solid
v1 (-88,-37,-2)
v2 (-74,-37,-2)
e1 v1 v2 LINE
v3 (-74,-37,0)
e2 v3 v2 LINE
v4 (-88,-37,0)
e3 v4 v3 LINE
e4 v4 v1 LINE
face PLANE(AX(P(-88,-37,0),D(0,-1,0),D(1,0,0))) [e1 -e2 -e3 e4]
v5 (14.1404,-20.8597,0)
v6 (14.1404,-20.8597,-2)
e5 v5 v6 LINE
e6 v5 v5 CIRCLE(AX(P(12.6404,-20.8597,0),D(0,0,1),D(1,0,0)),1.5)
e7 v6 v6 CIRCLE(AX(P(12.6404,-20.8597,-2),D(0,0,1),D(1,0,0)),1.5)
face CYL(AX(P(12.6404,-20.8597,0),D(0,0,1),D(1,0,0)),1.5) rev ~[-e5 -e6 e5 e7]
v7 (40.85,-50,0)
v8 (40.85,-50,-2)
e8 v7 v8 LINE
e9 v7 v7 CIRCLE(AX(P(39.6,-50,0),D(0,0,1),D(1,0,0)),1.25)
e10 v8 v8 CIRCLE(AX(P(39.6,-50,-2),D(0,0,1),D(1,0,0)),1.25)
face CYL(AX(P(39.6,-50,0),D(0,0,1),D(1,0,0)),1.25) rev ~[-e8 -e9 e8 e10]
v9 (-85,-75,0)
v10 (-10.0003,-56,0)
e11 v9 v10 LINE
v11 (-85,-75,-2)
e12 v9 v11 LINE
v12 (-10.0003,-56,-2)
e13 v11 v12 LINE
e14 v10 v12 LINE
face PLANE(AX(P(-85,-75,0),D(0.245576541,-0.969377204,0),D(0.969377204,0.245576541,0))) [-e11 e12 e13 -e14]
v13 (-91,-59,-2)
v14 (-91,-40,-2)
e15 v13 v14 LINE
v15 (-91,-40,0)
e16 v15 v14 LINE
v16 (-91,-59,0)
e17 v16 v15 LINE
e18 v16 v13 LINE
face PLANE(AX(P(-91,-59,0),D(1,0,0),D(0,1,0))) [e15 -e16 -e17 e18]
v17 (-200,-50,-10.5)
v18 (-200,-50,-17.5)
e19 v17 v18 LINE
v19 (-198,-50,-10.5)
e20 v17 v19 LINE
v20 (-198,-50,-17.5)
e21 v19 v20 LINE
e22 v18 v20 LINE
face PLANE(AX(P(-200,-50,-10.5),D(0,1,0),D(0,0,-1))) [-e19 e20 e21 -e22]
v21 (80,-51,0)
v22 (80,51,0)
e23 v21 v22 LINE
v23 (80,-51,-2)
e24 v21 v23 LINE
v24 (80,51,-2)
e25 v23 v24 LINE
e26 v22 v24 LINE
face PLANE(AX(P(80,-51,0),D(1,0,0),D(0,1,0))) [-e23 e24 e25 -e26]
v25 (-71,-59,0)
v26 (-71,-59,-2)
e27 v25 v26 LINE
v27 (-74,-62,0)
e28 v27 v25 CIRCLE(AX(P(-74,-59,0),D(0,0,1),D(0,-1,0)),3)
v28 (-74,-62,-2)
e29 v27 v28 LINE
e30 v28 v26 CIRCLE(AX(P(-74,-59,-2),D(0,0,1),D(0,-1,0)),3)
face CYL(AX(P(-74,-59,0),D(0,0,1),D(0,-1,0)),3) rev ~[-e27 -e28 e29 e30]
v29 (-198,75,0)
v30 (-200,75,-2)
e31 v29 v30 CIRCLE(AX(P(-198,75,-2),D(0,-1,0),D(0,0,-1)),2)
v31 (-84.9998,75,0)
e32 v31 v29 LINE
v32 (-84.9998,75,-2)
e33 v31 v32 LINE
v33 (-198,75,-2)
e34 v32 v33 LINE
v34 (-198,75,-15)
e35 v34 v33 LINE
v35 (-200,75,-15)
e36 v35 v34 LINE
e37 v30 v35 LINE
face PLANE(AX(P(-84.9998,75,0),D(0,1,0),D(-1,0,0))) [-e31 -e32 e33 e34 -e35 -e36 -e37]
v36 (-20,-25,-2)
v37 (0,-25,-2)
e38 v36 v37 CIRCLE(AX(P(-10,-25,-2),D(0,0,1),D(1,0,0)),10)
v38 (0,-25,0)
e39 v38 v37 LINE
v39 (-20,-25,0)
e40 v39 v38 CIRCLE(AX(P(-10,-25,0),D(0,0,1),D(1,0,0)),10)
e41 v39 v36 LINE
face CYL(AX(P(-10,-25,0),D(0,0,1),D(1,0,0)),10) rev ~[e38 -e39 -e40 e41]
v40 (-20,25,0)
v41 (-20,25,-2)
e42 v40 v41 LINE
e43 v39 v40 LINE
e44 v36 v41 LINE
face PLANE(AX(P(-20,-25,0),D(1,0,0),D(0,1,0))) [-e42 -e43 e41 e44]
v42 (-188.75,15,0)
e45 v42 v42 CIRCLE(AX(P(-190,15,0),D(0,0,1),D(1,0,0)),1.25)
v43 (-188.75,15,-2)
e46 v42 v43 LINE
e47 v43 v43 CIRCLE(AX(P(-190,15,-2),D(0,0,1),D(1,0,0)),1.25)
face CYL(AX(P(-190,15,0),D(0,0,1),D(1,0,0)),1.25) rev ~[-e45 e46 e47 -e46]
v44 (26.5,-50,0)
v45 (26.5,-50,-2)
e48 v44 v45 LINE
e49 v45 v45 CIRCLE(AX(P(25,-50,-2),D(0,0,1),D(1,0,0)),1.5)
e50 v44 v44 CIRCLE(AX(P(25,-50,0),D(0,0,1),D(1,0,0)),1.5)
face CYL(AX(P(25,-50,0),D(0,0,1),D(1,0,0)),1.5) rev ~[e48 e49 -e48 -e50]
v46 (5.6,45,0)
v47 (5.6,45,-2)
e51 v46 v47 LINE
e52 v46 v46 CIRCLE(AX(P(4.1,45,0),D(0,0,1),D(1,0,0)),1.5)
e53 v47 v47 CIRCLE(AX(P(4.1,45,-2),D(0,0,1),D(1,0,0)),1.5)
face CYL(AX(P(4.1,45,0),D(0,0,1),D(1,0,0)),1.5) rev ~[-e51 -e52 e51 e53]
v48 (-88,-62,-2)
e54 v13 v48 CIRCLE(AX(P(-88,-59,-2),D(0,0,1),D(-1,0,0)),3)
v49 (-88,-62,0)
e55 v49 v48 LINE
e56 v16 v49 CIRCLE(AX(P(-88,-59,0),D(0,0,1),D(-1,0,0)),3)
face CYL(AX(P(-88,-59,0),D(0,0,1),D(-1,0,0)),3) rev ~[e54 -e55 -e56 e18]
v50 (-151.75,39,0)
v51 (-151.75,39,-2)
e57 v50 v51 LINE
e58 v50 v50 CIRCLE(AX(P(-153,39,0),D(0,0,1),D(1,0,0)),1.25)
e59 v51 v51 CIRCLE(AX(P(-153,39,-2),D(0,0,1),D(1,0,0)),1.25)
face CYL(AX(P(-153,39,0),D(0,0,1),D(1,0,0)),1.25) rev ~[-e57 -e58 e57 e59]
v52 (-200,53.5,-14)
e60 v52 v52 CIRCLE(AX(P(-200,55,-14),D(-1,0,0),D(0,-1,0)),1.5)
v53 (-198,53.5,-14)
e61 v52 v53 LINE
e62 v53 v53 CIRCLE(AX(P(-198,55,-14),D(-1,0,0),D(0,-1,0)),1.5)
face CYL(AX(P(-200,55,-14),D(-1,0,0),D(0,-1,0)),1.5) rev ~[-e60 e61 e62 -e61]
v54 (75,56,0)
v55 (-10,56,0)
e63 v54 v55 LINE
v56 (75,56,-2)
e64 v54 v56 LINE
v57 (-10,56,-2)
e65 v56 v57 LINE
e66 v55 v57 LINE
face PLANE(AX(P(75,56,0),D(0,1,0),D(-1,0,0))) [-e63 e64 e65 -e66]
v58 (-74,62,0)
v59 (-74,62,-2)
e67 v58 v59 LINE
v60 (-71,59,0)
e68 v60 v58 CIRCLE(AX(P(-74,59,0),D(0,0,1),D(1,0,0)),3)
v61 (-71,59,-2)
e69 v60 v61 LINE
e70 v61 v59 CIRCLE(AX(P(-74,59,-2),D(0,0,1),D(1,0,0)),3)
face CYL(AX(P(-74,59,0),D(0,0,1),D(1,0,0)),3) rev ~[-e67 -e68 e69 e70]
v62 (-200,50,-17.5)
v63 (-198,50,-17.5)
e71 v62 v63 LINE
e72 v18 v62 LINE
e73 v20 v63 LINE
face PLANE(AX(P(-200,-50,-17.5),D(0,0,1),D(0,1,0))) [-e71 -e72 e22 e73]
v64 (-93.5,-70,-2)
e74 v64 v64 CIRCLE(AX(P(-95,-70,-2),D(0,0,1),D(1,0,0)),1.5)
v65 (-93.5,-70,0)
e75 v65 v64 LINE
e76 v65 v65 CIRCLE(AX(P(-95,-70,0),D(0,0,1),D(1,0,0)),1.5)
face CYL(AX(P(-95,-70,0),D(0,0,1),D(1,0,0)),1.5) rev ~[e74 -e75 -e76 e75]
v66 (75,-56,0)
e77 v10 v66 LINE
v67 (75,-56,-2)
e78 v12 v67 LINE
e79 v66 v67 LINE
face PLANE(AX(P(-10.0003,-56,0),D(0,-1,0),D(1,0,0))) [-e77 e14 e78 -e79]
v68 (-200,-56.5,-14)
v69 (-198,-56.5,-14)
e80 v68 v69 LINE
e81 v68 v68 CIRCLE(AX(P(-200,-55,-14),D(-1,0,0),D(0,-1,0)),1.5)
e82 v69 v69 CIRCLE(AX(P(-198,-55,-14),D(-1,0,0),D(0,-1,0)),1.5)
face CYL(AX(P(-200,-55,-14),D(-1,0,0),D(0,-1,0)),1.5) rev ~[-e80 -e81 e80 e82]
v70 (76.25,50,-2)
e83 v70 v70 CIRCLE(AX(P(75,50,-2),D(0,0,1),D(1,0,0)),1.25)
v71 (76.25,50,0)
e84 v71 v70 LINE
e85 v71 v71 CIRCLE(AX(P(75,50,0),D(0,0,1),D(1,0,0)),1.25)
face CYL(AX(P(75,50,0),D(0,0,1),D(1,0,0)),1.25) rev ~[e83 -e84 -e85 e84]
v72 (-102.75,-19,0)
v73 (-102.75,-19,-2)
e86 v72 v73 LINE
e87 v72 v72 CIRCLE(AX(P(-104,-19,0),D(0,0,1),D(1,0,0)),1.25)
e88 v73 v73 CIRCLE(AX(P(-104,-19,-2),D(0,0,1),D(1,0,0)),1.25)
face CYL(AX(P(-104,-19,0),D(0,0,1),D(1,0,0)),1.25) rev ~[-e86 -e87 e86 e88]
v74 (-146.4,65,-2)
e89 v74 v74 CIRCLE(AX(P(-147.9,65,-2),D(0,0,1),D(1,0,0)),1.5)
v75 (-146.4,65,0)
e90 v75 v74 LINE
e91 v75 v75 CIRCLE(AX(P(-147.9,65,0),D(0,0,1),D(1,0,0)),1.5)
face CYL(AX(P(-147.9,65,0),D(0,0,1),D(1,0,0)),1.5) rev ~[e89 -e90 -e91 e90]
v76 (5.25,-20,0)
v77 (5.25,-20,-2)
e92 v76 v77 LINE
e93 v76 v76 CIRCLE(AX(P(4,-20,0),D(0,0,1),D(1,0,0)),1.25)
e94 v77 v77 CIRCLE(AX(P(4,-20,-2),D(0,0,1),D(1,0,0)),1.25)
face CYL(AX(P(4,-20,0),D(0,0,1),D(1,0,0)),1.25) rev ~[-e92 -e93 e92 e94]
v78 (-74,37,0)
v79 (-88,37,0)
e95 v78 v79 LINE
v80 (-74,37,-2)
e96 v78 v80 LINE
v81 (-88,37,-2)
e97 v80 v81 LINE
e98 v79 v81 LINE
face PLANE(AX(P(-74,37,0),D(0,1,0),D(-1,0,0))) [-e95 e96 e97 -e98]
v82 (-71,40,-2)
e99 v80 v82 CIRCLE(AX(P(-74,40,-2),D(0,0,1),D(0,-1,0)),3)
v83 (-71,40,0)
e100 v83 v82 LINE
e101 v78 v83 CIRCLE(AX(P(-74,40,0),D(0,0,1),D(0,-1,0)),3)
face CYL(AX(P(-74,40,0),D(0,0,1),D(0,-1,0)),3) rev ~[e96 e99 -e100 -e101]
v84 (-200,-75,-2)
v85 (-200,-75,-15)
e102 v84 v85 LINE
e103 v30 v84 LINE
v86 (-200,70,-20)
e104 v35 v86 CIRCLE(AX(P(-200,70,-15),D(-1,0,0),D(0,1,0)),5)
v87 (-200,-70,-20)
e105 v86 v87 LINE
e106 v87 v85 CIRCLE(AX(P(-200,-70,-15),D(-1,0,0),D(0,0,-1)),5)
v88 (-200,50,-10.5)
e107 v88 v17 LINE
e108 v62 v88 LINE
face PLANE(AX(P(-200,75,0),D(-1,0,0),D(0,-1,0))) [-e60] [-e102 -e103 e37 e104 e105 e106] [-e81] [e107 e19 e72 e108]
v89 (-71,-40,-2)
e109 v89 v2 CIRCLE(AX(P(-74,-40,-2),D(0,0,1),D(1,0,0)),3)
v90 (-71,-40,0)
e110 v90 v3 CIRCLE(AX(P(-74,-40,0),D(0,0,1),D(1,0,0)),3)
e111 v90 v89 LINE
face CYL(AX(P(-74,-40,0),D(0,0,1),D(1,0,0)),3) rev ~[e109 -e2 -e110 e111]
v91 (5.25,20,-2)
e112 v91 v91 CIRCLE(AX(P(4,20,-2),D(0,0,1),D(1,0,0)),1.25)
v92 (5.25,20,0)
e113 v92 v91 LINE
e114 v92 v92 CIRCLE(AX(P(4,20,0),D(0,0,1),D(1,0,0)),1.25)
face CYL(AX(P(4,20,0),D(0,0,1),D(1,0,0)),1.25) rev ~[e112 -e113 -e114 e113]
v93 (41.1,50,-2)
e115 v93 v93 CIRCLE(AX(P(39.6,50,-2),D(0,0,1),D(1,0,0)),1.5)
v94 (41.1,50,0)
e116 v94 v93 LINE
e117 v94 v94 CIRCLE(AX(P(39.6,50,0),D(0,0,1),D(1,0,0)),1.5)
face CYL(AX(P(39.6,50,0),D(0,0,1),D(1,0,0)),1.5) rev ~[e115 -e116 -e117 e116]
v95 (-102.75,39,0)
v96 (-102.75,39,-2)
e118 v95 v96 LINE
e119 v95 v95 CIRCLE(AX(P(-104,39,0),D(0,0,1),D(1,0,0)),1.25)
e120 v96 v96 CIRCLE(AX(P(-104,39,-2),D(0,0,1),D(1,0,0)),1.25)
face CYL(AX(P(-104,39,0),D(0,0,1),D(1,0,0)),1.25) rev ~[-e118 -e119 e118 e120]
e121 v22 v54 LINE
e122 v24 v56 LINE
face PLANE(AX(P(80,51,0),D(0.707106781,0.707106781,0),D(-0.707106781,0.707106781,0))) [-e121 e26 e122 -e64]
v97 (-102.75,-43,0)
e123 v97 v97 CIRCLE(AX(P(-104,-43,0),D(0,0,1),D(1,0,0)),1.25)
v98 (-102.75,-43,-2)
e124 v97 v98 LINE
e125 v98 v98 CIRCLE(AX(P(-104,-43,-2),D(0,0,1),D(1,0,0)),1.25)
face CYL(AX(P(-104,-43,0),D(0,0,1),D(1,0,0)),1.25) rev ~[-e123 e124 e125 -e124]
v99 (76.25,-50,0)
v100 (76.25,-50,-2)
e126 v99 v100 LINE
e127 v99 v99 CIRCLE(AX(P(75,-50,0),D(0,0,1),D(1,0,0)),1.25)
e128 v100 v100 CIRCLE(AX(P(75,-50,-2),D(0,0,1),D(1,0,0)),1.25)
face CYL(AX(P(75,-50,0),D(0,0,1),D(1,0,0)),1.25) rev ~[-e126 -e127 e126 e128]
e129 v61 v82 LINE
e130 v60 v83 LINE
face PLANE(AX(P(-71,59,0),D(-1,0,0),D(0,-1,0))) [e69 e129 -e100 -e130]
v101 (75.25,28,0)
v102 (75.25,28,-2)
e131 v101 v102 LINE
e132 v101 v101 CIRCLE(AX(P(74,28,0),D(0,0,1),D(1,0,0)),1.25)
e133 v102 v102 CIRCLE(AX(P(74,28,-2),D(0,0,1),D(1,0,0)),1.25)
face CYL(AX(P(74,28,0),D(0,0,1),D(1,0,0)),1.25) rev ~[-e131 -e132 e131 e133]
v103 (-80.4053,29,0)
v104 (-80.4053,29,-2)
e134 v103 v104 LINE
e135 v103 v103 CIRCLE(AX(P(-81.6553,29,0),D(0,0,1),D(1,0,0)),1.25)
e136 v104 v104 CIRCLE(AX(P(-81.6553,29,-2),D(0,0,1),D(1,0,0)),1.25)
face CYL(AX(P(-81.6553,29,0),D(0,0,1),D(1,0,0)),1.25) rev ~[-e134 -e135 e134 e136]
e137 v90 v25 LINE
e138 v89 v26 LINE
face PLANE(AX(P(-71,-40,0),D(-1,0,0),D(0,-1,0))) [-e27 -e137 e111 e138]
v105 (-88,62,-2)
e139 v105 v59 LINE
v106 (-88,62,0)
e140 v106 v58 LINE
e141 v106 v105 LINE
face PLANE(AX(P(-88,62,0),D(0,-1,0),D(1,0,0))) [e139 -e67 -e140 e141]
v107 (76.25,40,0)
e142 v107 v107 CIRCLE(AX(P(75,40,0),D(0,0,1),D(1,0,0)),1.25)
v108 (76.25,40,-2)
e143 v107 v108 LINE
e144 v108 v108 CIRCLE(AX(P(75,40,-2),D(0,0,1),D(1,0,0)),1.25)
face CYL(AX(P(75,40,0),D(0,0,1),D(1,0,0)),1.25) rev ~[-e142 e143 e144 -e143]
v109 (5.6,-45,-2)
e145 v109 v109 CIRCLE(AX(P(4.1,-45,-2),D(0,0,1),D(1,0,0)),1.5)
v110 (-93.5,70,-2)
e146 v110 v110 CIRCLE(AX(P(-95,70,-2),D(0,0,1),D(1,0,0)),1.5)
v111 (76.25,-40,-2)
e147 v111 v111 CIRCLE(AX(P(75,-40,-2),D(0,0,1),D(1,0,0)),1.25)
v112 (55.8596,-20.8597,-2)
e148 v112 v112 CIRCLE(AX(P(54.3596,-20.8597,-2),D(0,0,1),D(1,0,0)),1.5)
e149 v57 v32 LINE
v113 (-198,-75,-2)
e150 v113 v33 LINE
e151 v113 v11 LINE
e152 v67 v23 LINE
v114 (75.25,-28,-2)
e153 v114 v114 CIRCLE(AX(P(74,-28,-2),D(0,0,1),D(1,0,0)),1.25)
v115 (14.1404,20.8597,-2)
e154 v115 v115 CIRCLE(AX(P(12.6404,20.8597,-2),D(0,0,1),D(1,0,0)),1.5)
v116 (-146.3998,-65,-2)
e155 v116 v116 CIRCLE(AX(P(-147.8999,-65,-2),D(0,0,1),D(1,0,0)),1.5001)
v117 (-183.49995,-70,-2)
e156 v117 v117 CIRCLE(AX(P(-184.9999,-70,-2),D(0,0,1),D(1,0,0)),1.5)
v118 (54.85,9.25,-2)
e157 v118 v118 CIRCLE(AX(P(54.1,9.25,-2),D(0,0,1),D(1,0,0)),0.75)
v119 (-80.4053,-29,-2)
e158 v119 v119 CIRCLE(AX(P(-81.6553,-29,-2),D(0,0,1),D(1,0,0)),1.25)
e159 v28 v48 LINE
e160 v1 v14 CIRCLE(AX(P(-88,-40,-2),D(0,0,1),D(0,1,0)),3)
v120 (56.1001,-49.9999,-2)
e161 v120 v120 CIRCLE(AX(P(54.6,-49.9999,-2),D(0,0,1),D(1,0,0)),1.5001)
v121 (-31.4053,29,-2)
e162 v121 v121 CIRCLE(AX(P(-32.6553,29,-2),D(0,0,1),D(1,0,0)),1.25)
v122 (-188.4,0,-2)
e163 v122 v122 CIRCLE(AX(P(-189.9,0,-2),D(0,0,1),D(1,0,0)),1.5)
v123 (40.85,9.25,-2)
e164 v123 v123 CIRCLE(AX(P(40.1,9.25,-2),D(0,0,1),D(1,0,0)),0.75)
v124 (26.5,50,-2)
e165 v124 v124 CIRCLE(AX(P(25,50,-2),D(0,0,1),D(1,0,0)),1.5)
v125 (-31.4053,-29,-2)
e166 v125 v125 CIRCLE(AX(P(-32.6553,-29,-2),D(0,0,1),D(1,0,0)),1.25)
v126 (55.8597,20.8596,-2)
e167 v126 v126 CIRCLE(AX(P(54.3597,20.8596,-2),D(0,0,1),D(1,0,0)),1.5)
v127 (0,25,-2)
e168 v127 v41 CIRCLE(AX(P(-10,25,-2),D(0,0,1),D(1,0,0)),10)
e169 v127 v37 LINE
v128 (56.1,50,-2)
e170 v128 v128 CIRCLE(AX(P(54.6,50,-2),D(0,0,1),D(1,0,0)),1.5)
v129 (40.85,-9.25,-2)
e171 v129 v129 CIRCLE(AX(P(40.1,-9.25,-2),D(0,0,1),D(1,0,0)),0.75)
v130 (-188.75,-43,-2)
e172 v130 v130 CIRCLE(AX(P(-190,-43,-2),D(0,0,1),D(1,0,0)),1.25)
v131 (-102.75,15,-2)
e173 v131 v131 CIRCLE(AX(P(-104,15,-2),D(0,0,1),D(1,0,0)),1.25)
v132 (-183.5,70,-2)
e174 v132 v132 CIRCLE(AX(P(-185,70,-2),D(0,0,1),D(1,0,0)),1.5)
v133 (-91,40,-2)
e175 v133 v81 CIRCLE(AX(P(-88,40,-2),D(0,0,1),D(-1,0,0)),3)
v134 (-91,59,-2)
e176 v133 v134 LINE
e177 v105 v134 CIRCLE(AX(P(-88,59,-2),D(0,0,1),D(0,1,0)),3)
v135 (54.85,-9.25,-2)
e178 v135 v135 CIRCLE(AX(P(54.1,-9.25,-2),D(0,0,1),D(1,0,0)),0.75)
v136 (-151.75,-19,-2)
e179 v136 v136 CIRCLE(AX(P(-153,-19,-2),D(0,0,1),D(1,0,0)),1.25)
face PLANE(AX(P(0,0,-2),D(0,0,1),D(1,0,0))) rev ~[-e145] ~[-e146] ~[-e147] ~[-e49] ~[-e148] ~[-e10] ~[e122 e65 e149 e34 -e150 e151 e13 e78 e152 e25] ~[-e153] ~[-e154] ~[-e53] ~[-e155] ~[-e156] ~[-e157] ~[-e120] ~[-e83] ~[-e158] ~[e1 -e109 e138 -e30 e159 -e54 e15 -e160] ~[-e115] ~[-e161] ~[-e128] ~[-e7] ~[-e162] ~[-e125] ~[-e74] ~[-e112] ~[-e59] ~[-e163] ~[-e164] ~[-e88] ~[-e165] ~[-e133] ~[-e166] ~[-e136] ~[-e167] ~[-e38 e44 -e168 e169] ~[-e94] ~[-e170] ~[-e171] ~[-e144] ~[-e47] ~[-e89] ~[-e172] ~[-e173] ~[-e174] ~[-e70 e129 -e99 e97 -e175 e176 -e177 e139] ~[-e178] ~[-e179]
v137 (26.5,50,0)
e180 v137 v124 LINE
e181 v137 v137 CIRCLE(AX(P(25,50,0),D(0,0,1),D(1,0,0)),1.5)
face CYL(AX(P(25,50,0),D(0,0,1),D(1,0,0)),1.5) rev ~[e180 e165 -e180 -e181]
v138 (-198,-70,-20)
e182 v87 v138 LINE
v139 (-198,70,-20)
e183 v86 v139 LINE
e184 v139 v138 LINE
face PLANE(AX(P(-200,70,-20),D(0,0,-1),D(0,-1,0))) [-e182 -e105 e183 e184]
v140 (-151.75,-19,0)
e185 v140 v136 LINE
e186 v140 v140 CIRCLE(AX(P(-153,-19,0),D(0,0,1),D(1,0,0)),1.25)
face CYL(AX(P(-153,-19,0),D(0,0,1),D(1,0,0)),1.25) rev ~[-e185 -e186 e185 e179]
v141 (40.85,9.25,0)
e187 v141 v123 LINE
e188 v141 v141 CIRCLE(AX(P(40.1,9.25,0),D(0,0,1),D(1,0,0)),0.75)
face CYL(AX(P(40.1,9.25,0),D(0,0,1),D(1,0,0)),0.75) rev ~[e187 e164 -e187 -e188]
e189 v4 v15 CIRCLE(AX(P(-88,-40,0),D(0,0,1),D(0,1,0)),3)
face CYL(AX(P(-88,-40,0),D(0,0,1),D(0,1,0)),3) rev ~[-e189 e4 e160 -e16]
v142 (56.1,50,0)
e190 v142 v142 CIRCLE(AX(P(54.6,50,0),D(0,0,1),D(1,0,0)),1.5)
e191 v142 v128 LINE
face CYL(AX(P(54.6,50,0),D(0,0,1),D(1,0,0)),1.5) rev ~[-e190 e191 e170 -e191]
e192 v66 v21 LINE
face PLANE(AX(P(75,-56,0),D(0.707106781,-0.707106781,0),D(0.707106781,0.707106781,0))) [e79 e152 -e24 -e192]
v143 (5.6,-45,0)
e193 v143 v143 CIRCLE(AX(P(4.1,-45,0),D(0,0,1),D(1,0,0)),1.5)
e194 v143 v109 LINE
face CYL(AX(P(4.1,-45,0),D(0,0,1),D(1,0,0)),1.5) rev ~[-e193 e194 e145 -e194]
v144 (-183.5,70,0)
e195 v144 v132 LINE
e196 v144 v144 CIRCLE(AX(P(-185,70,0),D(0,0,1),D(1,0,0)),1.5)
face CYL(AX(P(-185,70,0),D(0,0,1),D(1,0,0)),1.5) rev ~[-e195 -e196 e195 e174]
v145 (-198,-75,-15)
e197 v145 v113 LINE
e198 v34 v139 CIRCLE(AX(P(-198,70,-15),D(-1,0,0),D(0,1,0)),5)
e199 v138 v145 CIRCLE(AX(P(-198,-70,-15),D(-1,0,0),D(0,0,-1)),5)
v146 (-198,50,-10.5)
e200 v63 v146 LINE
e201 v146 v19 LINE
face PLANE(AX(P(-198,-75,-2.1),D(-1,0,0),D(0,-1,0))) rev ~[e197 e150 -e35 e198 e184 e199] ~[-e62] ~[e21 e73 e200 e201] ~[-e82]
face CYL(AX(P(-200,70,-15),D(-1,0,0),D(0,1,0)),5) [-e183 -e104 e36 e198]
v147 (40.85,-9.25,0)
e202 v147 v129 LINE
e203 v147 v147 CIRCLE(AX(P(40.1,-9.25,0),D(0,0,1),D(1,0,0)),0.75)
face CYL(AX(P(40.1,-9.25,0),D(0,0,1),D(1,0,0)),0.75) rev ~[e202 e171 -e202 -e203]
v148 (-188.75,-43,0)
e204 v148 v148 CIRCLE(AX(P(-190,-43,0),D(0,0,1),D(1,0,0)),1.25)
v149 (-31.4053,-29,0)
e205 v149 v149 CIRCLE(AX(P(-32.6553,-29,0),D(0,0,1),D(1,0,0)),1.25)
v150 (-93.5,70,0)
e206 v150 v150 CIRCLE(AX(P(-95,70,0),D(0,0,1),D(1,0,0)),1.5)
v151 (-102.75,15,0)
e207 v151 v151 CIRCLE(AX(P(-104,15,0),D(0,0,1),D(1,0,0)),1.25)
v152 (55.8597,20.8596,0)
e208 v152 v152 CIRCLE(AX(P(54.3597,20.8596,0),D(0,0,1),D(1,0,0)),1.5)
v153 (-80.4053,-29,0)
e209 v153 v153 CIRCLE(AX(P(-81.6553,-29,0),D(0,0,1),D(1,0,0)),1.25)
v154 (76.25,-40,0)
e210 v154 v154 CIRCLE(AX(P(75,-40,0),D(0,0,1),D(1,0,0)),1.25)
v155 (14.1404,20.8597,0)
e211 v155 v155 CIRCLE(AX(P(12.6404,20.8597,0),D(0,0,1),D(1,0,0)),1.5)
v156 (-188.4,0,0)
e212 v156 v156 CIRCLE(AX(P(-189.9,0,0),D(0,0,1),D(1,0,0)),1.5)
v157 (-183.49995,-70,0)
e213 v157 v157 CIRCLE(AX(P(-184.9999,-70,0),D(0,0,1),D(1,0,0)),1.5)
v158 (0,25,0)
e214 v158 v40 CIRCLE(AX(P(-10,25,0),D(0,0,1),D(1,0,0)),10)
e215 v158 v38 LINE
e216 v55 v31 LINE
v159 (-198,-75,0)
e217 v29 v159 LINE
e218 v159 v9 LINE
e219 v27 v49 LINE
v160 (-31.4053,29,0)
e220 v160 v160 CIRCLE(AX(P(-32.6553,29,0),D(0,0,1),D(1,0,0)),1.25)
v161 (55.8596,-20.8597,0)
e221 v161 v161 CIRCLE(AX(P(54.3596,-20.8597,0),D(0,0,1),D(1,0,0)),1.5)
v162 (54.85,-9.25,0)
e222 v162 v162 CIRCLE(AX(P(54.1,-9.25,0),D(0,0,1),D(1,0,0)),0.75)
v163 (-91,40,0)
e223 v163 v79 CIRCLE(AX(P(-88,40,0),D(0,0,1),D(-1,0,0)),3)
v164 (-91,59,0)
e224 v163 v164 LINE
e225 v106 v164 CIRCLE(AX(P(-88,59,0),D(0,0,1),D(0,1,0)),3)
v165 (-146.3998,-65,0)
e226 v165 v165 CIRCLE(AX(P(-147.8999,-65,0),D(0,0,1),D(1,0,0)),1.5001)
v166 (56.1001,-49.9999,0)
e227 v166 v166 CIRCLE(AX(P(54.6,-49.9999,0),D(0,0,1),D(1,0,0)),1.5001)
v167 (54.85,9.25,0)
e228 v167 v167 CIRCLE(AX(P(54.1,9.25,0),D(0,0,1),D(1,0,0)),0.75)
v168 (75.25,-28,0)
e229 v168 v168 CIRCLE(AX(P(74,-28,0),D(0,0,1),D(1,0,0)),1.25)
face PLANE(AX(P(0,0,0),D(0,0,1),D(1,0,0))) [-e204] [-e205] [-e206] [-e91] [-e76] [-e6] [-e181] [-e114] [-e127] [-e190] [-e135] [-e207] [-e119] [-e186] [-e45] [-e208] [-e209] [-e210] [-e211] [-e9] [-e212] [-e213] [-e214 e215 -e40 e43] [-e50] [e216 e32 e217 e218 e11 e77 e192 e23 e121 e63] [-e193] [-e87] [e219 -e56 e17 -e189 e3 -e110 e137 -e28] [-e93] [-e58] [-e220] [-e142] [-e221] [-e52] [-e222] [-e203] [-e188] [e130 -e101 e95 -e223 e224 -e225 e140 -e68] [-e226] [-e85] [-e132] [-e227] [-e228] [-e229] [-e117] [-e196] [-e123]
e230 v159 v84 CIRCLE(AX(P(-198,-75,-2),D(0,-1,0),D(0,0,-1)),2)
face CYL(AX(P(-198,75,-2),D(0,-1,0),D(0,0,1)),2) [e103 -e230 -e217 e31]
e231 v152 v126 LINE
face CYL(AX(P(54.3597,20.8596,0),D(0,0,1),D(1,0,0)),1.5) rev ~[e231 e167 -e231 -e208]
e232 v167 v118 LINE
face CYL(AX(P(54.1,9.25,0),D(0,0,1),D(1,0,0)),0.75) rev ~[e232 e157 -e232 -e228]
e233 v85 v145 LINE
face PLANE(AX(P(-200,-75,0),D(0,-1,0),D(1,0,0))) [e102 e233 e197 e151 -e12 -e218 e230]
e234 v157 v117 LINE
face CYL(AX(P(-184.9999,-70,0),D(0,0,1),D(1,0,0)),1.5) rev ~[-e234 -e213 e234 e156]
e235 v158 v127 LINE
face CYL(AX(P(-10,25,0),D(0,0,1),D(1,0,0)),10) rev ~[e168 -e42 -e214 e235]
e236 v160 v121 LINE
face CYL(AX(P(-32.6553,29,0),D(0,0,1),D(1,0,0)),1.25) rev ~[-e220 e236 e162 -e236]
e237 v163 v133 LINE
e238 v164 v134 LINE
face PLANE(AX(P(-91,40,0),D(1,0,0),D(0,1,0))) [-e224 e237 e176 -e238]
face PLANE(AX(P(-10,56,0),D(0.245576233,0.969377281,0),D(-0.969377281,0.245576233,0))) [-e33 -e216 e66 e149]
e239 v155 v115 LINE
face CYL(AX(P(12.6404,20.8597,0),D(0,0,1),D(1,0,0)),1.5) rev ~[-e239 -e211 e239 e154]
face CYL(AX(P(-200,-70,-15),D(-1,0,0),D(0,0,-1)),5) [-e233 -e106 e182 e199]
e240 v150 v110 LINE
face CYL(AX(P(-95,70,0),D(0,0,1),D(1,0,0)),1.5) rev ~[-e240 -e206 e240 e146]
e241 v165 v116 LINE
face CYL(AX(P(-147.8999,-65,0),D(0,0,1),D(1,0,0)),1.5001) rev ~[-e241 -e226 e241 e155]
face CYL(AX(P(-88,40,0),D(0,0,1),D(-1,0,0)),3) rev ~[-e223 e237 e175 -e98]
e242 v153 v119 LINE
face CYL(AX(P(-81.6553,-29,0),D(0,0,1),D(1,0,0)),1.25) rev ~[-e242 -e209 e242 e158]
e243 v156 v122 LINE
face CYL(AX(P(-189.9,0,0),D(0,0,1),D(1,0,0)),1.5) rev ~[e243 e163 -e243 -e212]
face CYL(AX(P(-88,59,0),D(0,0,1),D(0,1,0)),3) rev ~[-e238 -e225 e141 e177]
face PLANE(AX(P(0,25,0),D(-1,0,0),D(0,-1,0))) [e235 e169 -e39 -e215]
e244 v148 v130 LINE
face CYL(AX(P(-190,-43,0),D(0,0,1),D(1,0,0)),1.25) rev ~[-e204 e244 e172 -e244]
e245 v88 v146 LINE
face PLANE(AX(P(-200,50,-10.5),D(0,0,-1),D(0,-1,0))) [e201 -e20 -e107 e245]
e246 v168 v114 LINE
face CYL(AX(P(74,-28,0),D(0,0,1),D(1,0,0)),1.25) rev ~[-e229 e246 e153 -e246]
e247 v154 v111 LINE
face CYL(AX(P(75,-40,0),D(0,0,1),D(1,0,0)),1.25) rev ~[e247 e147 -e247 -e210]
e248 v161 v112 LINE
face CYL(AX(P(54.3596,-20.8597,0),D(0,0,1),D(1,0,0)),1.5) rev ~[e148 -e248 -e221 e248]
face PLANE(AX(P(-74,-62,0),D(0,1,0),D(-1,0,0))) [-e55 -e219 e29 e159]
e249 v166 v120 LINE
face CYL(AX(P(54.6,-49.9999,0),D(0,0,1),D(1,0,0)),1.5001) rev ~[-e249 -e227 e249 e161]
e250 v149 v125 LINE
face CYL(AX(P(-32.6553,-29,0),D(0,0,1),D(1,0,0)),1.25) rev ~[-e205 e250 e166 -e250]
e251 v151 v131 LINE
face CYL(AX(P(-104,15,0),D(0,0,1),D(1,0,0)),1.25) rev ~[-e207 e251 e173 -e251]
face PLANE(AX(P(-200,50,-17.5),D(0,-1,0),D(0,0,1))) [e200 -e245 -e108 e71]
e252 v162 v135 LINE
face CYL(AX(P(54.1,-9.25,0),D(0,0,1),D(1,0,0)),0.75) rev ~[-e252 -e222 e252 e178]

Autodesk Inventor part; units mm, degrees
ref_plane "YZ Plane" through (0, 0, 0) normal (1, 0, 0) x (0, 1, 0)
ref_plane "XZ Plane" through (0, 0, 0) normal (0, 1, 0) x (-1, 0, 0)
ref_plane "XY Plane" through (0, 0, 0) normal (0, 0, 1) x (1, 0, 0)
ref_plane "Plano de trabajo1" through (0, 0, 0) normal (0, 0, 1) x (1, 0, 0)
sketch "Boceto1" plane through (0, 0, 0) normal (0, 0, 1) x (1, 0, 0)
  line L0 (75, -56) -> (80, -51)
  line L1 (80, -51) -> (80, 51)
  line L2 (80, 51) -> (75, 56)
  line L3 (75, 56) -> (-10, 56)
  line L4 (-10, 56) -> (-84.9998, 75)
  line L5 (-84.9998, 75) -> (-200, 75)
  line L6 (-200, 75) -> (-200, -75)
  line L7 (-200, -75) -> (-85, -75)
  line L8 (-85, -75) -> (-10.0003, -56)
  line L9 (-10.0003, -56) -> (75, -56)
  circle A0 centre (-184.9999, -70) radius 1.5
  circle A1 centre (25, -50) radius 1.5
  circle A2 centre (25, 50) radius 1.5
  line L10 (-91, 40) -> (-91, 59)
  arc A3 (-88, 62) -> (-91, 59) centre (-88, 59) ccw
  line L11 (-88, 62) -> (-74, 62)
  arc A4 (-71, 59) -> (-74, 62) centre (-74, 59) ccw
  line L12 (-71, 59) -> (-71, 40)
  arc A5 (-74, 37) -> (-71, 40) centre (-74, 40) ccw
  line L13 (-74, 37) -> (-88, 37)
  arc A6 (-91, 40) -> (-88, 37) centre (-88, 40) ccw
  line L14 (-91, -59) -> (-91, -40)
  arc A7 (-88, -37) -> (-91, -40) centre (-88, -40) ccw
  line L15 (-88, -37) -> (-74, -37)
  arc A8 (-71, -40) -> (-74, -37) centre (-74, -40) ccw
  line L16 (-71, -40) -> (-71, -59)
  arc A9 (-74, -62) -> (-71, -59) centre (-74, -59) ccw
  line L17 (-74, -62) -> (-88, -62)
  arc A10 (-91, -59) -> (-88, -62) centre (-88, -59) ccw
  line L18 (-20, -25) -> (-20, 25)
  line L19 (0, 25) -> (0, -25)
  circle A11 centre (-10, 25) radius 10
  circle A12 centre (-10, -25) radius 10
  circle A13 centre (-147.9, 65) radius 1.5
  circle A14 centre (-153, 39) radius 1.25
  circle A15 centre (-190, 15) radius 1.25
  circle A16 centre (-189.9, 0) radius 1.5
  circle A17 centre (-190, -43) radius 1.25
  circle A18 centre (-153, -19) radius 1.25
  circle A19 centre (-147.8999, -65) radius 1.5001
  circle A20 centre (-104, -43) radius 1.25
  circle A21 centre (-81.6553, -29) radius 1.25
  circle A22 centre (-104, -19) radius 1.25
  circle A23 centre (-32.6553, -29) radius 1.25
  circle A24 centre (-104, 15) radius 1.25
  circle A25 centre (-81.6553, 29) radius 1.25
  circle A26 centre (-104, 39) radius 1.25
  circle A27 centre (-32.6553, 29) radius 1.25
  circle A28 centre (4.1, -45) radius 1.5
  circle A29 centre (4, -20) radius 1.25
  circle A30 centre (12.6404, -20.8597) radius 1.5
  circle A31 centre (4, 20) radius 1.25
  circle A32 centre (12.6404, 20.8597) radius 1.5
  circle A33 centre (4.1, 45) radius 1.5
  circle A34 centre (54.6, -49.9999) radius 1.5001
  circle A35 centre (75, -50) radius 1.25
  circle A36 centre (75, -40) radius 1.25
  circle A37 centre (74, -28) radius 1.25
  circle A38 centre (54.3596, -20.8597) radius 1.5
  circle A39 centre (54.1, -9.25) radius 0.75
  circle A40 centre (40.1, -9.25) radius 0.75
  circle A41 centre (39.6, 50) radius 1.5
  circle A42 centre (54.6, 50) radius 1.5
  circle A43 centre (54.3597, 20.8596) radius 1.5
  circle A44 centre (54.1, 9.25) radius 0.75
  circle A45 centre (40.1, 9.25) radius 0.75
  circle A46 centre (74, 28) radius 1.25
  circle A47 centre (75, 50) radius 1.25
  circle A48 centre (75, 40) radius 1.25
  circle A49 centre (39.6, -50) radius 1.25
  circle A50 centre (25, -50) radius 1.5
  circle A51 centre (-95, -70) radius 1.5
  circle A52 centre (-185, -70) radius 1.5
  circle A53 centre (-185, 70) radius 1.5
  circle A54 centre (-95, 70) radius 1.5
  circle A55 centre (25, 50) radius 1.5
  point P0 (26.4595, -50.3464)
  point P1 (23.6185, -50.5842)
  point P2 (0, -24.9924)
  point P3 (-20, -24.9924)
extrude "Extrusión1" add sketch "Boceto1" against normal blind 2
ref_plane "Plano de trabajo2" through (-200, -75, -2.1) normal (-1, 0, 0) x (0, -1, 0)
sketch "Boceto2" plane through (-200, -75, -2.1) normal (-1, 0, 0) x (0, -1, 0)
  line L0 (-150, -12.9) -> (-150, 0.1)
  line L1 (-145, -17.9) -> (-5, -17.9)
  line L2 (-125, -8.4) -> (-25, -8.4)
  line L3 (-25, -15.4) -> (-125, -15.4)
  line L4 (-125, -15.4) -> (-125, -8.4)
  circle A0 centre (-130, -11.9) radius 1.5
  line L5 (-25, -8.4) -> (-25, -15.4)
  circle A1 centre (-20, -11.9) radius 1.5
  line L6 (0, -12.9) -> (0, 0.1)
  line L7 (0, 0.1) -> (-150, 0.1)
  arc A2 (-150, -12.9) -> (-145, -17.9) centre (-145, -12.9) ccw
  arc A3 (-5, -17.9) -> (0, -12.9) centre (-5, -12.9) ccw
  point P0 (-75, 2.1)
  dimension "d2" = 5
extrude "Extrusión2" add sketch "Boceto2" against normal blind 2
fillet "Empalme1" radius 2 1 edges at (-200, 0, 0)
properties part number "Base2"
